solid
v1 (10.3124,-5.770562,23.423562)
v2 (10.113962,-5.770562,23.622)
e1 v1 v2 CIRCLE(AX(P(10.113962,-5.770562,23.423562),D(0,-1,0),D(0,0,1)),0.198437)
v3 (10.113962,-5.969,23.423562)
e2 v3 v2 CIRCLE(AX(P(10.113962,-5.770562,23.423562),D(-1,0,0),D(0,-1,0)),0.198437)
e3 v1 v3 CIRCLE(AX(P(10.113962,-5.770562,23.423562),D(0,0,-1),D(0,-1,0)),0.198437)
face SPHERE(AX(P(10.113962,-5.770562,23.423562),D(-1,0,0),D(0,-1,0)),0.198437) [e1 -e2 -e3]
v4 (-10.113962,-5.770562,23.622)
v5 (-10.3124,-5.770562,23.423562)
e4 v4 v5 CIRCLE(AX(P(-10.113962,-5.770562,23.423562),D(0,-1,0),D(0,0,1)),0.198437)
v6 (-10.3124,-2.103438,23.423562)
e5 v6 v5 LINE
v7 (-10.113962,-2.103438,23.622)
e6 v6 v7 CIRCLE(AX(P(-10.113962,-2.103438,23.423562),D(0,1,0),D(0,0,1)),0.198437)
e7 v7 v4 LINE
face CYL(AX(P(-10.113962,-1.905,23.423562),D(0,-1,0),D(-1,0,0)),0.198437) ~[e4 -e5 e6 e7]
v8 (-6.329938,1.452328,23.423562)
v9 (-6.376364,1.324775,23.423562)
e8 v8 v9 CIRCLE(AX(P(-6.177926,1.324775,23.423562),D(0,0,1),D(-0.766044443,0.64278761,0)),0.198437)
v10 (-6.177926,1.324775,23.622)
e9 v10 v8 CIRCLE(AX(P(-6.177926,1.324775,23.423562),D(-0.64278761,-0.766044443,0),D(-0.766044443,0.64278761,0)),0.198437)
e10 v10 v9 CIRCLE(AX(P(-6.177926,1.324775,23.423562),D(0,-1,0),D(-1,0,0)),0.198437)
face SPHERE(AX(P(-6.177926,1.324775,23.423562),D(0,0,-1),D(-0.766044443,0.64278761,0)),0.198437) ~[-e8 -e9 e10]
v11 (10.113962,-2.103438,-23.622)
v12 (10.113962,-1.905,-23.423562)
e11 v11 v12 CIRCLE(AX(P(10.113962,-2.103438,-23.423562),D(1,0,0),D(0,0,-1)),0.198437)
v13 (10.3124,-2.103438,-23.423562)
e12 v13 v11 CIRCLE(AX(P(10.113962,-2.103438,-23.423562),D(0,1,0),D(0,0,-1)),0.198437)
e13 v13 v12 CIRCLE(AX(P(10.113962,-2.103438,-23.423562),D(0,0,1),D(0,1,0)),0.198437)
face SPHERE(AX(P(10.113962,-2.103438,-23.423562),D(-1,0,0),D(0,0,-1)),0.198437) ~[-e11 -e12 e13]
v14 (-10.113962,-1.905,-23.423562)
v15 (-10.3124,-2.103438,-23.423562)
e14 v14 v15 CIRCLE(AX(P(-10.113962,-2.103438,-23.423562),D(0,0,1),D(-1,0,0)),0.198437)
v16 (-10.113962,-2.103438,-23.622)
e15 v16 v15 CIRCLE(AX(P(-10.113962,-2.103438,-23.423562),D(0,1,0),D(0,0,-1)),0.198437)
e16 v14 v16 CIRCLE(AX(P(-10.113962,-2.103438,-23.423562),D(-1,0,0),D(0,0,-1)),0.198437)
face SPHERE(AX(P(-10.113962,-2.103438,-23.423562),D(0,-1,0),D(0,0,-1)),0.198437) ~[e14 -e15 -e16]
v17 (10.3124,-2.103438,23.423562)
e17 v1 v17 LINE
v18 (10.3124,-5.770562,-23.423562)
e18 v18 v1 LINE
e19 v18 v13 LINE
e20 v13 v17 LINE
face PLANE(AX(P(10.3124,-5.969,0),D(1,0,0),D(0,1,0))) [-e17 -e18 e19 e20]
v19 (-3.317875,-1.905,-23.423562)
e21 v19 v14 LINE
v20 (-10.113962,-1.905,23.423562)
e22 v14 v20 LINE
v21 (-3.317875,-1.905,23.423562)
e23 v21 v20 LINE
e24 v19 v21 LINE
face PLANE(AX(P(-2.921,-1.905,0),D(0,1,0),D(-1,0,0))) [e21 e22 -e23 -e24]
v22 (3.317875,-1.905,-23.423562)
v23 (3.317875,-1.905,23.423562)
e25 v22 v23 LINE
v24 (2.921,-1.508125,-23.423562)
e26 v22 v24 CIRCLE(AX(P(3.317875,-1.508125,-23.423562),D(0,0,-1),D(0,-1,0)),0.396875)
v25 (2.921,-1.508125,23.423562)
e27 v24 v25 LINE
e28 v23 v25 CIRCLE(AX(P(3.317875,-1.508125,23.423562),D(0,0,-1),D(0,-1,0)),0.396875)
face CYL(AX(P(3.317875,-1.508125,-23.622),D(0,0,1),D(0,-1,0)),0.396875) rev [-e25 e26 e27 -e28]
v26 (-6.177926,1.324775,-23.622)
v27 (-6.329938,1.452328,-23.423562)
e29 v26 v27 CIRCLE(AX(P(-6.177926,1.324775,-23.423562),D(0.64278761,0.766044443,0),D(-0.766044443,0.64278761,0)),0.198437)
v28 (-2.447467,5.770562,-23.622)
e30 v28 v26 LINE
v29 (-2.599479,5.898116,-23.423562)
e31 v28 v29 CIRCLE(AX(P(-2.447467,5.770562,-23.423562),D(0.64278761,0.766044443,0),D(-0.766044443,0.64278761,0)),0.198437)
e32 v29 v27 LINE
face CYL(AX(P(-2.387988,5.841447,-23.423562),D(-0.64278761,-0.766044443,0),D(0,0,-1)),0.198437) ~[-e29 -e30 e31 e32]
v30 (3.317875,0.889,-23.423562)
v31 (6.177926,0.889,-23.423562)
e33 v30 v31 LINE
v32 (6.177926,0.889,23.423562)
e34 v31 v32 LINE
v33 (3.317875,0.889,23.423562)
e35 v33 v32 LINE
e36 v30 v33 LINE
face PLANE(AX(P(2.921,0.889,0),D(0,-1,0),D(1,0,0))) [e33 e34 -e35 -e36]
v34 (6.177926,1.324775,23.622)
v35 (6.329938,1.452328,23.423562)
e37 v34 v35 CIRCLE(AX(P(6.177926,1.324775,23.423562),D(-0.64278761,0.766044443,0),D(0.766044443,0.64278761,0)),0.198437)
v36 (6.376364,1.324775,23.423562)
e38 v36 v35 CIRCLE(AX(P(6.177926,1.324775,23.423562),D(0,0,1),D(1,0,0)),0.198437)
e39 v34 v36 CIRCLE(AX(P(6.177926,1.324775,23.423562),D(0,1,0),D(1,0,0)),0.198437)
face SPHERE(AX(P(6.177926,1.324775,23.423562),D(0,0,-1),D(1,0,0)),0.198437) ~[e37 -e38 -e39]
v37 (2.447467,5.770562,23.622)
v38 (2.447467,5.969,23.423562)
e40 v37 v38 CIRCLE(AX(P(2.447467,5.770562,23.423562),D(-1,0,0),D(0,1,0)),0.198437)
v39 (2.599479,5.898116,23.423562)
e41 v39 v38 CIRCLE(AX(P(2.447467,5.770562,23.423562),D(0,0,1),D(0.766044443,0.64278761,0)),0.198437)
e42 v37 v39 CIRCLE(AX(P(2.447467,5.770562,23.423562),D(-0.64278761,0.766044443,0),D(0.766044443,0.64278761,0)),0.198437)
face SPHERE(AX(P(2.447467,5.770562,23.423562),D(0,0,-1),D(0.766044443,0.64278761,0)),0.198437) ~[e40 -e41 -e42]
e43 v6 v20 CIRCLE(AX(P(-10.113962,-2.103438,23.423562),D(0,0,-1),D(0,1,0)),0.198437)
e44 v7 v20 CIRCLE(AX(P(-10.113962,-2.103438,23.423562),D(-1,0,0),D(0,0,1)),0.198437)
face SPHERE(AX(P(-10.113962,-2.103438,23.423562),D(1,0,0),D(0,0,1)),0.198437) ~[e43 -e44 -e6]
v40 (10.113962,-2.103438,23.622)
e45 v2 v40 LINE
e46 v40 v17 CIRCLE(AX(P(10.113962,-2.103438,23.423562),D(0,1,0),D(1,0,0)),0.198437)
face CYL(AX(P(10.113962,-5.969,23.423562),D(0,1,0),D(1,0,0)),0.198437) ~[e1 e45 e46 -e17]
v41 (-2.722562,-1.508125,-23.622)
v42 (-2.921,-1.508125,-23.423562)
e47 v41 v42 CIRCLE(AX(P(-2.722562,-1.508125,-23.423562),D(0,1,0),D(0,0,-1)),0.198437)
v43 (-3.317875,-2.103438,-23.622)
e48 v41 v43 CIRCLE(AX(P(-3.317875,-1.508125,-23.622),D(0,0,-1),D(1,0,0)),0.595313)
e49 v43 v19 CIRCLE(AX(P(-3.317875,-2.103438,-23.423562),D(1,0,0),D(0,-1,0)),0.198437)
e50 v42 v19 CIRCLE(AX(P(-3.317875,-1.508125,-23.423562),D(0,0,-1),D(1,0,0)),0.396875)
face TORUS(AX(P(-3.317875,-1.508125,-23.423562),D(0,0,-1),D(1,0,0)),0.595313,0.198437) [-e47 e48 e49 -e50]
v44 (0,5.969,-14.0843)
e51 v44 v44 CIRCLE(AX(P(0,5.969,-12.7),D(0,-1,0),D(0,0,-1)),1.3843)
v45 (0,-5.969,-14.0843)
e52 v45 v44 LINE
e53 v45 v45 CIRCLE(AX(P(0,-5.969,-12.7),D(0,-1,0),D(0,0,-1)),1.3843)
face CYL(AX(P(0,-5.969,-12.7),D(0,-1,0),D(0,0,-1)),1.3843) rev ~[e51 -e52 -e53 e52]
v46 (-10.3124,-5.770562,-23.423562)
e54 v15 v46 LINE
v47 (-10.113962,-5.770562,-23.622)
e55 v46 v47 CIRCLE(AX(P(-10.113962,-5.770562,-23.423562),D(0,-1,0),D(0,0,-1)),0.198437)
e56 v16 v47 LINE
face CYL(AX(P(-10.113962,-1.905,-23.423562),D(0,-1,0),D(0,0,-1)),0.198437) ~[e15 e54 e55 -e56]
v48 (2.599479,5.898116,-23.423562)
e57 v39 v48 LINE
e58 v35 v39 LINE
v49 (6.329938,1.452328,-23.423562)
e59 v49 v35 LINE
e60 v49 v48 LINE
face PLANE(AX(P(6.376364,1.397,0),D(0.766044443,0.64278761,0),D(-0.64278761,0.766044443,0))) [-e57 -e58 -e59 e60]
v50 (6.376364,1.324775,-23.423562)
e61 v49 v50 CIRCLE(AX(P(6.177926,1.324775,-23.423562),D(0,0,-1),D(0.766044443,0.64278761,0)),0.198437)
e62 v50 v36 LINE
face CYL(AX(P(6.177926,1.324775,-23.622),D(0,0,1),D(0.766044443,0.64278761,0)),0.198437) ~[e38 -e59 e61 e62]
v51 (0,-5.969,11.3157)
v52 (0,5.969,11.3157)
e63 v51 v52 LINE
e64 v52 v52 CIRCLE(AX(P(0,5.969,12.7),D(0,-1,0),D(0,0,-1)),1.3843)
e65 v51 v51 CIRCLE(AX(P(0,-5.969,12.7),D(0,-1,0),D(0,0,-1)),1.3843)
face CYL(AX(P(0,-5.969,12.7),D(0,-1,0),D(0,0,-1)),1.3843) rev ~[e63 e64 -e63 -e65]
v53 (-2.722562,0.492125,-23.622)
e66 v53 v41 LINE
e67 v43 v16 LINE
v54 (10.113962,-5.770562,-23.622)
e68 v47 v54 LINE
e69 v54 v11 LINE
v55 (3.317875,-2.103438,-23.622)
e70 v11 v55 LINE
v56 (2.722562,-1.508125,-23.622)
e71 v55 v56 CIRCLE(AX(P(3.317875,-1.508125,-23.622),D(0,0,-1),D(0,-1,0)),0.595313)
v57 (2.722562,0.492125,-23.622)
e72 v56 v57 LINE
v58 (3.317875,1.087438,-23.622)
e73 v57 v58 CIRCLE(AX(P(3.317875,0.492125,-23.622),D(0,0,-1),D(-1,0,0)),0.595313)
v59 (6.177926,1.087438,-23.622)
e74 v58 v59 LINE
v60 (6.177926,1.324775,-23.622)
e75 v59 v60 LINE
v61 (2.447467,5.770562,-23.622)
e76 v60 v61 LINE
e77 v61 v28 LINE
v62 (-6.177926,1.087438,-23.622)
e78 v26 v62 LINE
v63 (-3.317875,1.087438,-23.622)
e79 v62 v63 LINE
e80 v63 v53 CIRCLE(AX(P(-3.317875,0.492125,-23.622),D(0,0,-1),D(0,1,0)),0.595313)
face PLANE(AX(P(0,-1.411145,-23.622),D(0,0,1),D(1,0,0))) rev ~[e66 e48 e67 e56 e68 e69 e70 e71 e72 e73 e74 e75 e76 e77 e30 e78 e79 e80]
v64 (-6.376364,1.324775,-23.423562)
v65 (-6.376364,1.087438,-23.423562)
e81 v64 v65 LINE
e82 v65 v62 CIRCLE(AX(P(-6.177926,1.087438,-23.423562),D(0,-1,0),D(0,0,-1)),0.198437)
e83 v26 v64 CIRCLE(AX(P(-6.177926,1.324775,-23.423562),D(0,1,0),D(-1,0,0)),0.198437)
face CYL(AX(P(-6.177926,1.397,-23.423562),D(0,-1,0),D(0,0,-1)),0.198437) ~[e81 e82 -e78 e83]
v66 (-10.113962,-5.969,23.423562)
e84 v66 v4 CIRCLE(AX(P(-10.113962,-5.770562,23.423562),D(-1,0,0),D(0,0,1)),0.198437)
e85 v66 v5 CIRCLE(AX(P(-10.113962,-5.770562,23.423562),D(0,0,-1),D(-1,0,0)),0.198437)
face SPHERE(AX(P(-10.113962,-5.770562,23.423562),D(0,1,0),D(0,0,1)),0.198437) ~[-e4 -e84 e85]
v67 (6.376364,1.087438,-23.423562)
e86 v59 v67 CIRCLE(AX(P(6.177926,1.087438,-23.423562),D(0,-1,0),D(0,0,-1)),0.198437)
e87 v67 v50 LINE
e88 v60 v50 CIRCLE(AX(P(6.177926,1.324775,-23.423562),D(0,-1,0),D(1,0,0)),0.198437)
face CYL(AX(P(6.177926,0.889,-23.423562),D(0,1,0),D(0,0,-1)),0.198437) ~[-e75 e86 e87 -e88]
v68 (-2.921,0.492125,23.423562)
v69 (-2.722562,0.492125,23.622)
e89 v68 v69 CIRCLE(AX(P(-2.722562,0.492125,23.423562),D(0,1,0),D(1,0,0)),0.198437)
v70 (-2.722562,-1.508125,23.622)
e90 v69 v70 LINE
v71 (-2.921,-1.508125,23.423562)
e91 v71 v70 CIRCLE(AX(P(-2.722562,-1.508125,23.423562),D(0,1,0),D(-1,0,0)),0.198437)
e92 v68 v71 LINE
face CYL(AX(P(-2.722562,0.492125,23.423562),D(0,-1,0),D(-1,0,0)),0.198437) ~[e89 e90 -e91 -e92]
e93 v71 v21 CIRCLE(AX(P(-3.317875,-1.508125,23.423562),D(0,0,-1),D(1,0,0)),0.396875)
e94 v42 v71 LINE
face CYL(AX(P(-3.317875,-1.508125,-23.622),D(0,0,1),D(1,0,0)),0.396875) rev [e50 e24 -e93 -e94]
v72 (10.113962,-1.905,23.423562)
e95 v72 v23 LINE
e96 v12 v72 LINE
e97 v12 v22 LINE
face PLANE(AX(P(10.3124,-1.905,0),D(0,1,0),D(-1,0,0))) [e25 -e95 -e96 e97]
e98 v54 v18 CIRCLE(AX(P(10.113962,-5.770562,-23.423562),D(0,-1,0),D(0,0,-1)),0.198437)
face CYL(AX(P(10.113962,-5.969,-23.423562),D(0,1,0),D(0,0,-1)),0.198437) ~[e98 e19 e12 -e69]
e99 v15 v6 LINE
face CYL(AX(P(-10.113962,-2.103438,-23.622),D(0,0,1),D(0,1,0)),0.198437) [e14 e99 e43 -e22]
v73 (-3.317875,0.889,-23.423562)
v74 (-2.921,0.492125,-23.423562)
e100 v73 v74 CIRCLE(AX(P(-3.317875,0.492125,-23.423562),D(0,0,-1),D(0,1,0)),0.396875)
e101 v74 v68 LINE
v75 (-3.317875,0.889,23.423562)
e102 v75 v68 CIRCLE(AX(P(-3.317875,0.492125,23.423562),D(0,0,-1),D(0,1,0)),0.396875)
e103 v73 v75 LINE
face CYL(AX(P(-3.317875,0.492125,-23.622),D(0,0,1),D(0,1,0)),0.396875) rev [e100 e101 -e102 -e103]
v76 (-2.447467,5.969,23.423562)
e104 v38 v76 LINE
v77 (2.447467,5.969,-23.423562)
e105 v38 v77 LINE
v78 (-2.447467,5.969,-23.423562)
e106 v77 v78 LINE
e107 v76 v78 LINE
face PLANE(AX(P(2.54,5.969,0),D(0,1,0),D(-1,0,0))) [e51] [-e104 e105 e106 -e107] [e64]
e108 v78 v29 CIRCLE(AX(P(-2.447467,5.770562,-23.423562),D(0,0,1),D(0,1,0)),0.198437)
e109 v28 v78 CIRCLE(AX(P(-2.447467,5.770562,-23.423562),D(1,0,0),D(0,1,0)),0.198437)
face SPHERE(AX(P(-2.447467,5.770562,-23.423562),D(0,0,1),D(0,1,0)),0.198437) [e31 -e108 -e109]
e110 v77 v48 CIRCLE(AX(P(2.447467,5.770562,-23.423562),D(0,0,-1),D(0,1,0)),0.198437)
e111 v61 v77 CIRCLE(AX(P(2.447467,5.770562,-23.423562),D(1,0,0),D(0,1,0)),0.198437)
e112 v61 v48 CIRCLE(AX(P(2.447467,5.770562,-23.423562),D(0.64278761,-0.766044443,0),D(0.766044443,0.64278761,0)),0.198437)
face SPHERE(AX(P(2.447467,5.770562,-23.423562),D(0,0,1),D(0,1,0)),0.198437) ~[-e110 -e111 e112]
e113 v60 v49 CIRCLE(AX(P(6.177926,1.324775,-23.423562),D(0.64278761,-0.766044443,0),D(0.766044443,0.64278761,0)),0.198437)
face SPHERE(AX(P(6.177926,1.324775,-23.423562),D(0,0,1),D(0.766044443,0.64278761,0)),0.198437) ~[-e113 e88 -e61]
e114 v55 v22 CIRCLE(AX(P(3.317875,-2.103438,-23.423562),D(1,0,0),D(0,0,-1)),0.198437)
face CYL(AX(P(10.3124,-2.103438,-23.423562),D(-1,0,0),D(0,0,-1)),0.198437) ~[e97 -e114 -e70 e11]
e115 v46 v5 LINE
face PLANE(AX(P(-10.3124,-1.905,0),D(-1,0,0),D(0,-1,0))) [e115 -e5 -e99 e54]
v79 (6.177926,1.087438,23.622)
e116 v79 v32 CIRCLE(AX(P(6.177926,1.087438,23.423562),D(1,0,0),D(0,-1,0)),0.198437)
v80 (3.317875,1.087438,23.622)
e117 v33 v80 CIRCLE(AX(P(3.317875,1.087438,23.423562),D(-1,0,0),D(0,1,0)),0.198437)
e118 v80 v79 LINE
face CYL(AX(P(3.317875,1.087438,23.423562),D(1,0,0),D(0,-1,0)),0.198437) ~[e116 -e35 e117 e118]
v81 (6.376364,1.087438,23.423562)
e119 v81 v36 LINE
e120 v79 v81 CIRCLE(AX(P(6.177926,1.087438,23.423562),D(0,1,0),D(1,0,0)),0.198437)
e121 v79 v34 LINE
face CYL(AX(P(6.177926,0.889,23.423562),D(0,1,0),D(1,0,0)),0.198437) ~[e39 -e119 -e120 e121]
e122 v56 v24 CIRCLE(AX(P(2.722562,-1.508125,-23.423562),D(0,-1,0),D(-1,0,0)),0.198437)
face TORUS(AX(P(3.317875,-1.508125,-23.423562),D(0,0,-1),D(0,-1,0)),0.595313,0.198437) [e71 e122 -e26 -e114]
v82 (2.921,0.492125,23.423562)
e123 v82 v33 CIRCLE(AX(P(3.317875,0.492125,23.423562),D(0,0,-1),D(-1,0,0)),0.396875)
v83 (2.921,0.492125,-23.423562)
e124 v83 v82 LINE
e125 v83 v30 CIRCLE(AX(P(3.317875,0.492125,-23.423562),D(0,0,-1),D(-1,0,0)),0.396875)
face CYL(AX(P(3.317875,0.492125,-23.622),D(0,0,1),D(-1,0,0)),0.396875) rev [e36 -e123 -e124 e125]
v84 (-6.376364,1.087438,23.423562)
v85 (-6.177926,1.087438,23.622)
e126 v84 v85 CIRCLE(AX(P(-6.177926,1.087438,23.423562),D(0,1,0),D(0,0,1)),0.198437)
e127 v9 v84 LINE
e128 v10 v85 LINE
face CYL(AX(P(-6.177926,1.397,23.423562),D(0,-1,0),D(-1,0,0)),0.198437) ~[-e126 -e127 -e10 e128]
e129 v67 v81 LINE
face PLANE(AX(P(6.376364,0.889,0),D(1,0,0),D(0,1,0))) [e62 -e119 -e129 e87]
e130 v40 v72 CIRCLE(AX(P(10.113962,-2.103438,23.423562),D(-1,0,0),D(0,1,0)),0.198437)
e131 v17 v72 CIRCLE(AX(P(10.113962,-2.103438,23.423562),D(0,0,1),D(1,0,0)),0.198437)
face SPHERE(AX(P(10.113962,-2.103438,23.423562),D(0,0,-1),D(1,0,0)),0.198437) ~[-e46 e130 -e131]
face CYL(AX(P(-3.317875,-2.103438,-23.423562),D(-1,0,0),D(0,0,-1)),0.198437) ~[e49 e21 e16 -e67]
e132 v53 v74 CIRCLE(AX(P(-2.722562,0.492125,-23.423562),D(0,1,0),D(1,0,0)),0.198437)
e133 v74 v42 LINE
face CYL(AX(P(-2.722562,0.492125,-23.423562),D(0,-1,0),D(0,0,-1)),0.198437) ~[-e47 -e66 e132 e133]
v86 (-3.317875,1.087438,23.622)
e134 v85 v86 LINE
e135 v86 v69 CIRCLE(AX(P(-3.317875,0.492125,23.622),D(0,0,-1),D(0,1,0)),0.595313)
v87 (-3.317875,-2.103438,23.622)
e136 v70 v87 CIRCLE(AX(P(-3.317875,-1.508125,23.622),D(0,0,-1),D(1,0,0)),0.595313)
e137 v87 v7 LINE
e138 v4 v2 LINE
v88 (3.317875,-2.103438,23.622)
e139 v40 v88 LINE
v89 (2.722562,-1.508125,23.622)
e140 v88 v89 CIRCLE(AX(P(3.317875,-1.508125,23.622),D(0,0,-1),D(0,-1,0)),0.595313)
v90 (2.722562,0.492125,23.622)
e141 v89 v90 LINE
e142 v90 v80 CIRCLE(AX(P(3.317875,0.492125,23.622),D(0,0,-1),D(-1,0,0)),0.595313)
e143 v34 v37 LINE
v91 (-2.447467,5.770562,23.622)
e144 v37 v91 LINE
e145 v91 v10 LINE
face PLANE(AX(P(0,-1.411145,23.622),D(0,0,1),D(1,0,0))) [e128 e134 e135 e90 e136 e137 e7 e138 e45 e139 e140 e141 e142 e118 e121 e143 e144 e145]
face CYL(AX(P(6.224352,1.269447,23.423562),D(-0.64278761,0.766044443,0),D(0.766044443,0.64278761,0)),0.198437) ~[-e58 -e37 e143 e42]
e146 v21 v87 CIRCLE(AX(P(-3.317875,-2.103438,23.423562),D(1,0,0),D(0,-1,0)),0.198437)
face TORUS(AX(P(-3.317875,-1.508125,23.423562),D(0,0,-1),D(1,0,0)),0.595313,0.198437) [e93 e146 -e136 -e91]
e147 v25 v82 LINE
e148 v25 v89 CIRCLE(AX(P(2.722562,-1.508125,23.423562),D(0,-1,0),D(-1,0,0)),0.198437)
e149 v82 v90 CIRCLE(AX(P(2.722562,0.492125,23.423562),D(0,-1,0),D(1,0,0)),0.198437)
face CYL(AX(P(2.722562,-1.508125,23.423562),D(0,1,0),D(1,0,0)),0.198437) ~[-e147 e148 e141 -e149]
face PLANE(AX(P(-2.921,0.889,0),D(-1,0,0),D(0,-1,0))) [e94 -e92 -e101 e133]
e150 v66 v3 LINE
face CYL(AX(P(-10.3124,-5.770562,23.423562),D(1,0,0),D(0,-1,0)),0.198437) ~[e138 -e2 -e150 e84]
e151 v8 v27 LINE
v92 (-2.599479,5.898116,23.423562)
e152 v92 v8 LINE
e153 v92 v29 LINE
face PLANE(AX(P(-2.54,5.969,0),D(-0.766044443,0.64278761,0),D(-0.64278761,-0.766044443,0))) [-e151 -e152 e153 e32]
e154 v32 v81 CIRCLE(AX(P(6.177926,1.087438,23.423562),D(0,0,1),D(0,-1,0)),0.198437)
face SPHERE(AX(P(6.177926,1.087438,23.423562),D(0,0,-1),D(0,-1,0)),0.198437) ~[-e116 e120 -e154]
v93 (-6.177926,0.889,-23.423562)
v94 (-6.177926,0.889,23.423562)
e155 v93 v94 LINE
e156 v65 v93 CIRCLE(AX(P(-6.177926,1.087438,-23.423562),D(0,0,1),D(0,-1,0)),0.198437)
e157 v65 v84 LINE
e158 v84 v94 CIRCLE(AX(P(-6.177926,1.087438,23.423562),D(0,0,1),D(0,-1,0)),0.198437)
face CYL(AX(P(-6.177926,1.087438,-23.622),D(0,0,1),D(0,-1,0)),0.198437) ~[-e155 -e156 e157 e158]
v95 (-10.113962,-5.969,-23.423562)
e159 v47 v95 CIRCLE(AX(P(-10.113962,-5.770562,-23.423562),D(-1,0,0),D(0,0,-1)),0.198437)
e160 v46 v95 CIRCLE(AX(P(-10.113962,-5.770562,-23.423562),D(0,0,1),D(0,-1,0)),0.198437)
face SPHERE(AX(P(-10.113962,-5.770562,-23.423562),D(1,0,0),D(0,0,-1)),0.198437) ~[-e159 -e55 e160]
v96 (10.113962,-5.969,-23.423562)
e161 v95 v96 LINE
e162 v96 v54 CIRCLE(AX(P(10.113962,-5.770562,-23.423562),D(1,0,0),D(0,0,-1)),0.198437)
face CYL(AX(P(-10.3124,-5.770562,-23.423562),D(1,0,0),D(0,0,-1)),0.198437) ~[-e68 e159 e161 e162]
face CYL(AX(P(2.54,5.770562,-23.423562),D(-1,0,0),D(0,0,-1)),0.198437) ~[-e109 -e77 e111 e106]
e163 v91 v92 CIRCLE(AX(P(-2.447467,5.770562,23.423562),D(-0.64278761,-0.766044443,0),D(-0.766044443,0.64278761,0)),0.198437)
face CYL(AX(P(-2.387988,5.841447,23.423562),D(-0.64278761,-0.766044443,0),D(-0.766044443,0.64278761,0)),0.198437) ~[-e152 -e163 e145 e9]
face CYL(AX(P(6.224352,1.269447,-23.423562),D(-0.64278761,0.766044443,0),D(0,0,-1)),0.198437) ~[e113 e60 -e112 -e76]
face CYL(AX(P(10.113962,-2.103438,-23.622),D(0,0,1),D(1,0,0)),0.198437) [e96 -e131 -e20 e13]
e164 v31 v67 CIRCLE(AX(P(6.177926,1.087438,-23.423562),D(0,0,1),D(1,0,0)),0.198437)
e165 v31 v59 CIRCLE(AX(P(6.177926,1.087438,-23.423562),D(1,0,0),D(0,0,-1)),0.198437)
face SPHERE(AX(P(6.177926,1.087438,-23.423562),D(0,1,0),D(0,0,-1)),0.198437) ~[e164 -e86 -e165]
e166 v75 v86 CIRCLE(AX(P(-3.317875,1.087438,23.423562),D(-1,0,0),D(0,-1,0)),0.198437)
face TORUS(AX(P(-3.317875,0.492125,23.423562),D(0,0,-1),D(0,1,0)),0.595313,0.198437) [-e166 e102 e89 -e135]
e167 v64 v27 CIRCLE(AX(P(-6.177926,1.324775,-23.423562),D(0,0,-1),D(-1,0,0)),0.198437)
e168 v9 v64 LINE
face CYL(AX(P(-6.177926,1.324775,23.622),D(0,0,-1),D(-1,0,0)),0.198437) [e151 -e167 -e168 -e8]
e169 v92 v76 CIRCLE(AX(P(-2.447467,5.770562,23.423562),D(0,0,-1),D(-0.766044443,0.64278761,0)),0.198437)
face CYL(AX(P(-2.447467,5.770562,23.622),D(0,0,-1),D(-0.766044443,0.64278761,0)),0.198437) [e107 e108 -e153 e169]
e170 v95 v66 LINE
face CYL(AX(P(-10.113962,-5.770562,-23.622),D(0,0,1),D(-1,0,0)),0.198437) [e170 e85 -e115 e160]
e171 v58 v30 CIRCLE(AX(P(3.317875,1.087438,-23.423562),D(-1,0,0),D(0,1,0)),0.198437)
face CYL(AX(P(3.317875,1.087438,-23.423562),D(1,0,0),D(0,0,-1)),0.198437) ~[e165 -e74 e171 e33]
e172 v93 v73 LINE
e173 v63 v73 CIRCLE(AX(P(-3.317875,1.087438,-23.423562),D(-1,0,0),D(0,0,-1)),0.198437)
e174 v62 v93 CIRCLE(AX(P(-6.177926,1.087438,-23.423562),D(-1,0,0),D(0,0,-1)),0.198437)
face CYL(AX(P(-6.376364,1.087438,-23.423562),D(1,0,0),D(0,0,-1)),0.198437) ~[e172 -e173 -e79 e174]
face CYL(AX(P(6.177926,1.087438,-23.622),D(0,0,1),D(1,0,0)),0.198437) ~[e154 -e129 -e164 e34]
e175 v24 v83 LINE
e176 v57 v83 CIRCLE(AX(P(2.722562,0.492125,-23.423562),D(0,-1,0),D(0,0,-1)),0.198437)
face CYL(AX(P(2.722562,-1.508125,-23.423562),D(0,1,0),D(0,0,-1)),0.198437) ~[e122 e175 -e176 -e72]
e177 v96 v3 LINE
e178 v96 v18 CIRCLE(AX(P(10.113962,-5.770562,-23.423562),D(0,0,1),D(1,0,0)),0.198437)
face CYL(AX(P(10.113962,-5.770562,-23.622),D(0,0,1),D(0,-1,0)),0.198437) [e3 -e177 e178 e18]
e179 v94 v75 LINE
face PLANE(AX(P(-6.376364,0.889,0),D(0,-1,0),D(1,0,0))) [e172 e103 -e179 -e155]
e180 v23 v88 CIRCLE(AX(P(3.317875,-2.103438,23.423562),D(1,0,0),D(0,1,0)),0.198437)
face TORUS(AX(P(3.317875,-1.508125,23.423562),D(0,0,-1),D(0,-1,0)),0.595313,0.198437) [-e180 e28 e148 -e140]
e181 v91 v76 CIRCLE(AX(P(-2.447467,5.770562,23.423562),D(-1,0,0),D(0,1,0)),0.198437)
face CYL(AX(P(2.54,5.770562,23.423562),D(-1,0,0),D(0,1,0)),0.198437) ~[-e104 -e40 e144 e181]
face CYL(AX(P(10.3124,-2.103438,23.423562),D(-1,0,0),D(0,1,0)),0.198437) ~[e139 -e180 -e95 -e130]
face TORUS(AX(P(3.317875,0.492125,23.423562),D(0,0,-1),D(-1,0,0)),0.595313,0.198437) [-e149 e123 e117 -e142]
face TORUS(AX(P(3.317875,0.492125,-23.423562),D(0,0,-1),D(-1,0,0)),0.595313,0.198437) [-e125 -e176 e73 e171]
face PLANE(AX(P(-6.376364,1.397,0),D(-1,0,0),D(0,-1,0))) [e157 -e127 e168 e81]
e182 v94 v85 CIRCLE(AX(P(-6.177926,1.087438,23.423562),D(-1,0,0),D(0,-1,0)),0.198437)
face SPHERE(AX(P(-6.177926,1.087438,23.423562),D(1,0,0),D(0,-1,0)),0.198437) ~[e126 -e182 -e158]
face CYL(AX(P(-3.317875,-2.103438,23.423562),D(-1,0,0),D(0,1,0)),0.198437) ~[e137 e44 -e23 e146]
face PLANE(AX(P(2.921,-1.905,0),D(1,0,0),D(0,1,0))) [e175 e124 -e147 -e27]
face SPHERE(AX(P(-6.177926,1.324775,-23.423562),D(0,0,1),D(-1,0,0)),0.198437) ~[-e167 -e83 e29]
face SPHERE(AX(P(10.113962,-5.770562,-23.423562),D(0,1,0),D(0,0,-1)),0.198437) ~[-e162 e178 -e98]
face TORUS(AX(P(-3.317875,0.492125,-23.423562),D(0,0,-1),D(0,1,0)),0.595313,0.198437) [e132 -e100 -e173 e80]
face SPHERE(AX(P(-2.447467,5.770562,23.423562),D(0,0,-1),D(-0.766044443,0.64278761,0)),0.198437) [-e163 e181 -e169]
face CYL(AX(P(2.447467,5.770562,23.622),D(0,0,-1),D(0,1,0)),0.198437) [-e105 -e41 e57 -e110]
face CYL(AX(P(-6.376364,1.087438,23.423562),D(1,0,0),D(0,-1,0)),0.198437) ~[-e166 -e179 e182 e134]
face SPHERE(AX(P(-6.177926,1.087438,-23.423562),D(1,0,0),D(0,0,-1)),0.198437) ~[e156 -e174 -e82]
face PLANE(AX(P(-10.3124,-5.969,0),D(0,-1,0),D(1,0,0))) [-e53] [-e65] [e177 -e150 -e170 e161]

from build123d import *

# Parameters (mm, degrees)
BOSS_EXTRUDE1_DEPTH = 23.622
SKETCH5_R           = 1.3843
CUT_EXTRUDE1_DEPTH  = 29.405286863
FILLET1_R           = 0.396875
FILLET2_R           = 0.1984375


with BuildPart() as part:
    # Sketch3 → Boss-Extrude1 (new, symmetric)
    with BuildSketch(Plane.XY):
        Polygon((-6.376363514, 1.397), (-6.376363514, 0.889), (-2.921, 0.889), (-2.921, -1.905), (-10.3124, -1.905), (-10.3124, -5.969), (10.3124, -5.969), (10.3124, -1.905), (2.921, -1.905), (2.921, 0.889), (6.376363514, 0.889), (6.376363514, 1.397), (2.54, 5.969), (-2.54, 5.969), align=None)
    extrude(amount=BOSS_EXTRUDE1_DEPTH, both=True)

    # Sketch5 → Cut-Extrude1 (cut, through all)
    with BuildSketch(Plane.XZ.offset(5.969)):
        with Locations(Location((0, 12.7, 0), (0, 0, 270))):
            Circle(SKETCH5_R)
        with Locations(Location((0, -12.7, 0), (0, 0, 270))):
            Circle(SKETCH5_R)
    extrude(amount=-CUT_EXTRUDE1_DEPTH, mode=Mode.SUBTRACT)

    # Fillet1
    fillet1_edges = [part.edges().sort_by_distance(p)[0] for p in [
        (2.921, 0.889, 0),
        (2.921, -1.905, 0),
        (-2.921, -1.905, 0),
        (-2.921, 0.889, 0),
    ]]
    fillet(fillet1_edges, radius=FILLET1_R)

    # Fillet2
    fillet2_edges = [part.edges().sort_by_distance(p)[0] for p in [
        (-4.847119257, 0.889, 23.622),
        (0, 5.969, -23.622),
        (4.458181757, 3.683, -23.622),
        (6.376363514, 1.143, -23.622),
        (6.8151375, -1.905, -23.622),
        (10.3124, -3.937, -23.622),
        (0, -5.969, -23.622),
        (-10.3124, -3.937, -23.622),
        (-4.847119257, 0.889, -23.622),
        (-6.376363514, 1.143, -23.622),
        (-4.458181757, 3.683, -23.622),
        (-10.3124, -3.937, 23.622),
        (0, -5.969, 23.622),
        (-2.54, 5.969, 0),
        (2.54, 5.969, 0),
        (6.376363514, 1.397, 0),
        (6.376363514, 0.889, 0),
        (10.3124, -1.905, 0),
        (10.3124, -5.969, 0),
        (-10.3124, -5.969, 0),
        (-10.3124, -1.905, 0),
        (-6.376363514, 0.889, 0),
        (-6.376363514, 1.397, 0),
        (10.3124, -3.937, 23.622),
        (6.8151375, -1.905, 23.622),
        (6.376363514, 1.143, 23.622),
        (-4.458181757, 3.683, 23.622),
        (4.458181757, 3.683, 23.622),
        (0, 5.969, 23.622),
        (4.847119257, 0.889, -23.622),
        (4.847119257, 0.889, 23.622),
        (2.921, -0.508, -23.622),
        (2.921, -0.508, 23.622),
        (-2.921, -0.508, -23.622),
        (-2.921, -0.508, 23.622),
        (-6.8151375, -1.905, -23.622),
        (-6.8151375, -1.905, 23.622),
        (3.037241996, 0.772758004, -23.622),
        (3.037241996, 0.772758004, 23.622),
        (-3.037241996, 0.772758004, -23.622),
        (-3.037241996, 0.772758004, 23.622),
        (-3.037241996, -1.788758004, -23.622),
        (-3.037241996, -1.788758004, 23.622),
        (3.037241996, -1.788758004, -23.622),
        (3.037241996, -1.788758004, 23.622),
        (-6.376363514, 1.143, 23.622),
    ]]
    fillet(fillet2_edges, radius=FILLET2_R)


solid = part.part
